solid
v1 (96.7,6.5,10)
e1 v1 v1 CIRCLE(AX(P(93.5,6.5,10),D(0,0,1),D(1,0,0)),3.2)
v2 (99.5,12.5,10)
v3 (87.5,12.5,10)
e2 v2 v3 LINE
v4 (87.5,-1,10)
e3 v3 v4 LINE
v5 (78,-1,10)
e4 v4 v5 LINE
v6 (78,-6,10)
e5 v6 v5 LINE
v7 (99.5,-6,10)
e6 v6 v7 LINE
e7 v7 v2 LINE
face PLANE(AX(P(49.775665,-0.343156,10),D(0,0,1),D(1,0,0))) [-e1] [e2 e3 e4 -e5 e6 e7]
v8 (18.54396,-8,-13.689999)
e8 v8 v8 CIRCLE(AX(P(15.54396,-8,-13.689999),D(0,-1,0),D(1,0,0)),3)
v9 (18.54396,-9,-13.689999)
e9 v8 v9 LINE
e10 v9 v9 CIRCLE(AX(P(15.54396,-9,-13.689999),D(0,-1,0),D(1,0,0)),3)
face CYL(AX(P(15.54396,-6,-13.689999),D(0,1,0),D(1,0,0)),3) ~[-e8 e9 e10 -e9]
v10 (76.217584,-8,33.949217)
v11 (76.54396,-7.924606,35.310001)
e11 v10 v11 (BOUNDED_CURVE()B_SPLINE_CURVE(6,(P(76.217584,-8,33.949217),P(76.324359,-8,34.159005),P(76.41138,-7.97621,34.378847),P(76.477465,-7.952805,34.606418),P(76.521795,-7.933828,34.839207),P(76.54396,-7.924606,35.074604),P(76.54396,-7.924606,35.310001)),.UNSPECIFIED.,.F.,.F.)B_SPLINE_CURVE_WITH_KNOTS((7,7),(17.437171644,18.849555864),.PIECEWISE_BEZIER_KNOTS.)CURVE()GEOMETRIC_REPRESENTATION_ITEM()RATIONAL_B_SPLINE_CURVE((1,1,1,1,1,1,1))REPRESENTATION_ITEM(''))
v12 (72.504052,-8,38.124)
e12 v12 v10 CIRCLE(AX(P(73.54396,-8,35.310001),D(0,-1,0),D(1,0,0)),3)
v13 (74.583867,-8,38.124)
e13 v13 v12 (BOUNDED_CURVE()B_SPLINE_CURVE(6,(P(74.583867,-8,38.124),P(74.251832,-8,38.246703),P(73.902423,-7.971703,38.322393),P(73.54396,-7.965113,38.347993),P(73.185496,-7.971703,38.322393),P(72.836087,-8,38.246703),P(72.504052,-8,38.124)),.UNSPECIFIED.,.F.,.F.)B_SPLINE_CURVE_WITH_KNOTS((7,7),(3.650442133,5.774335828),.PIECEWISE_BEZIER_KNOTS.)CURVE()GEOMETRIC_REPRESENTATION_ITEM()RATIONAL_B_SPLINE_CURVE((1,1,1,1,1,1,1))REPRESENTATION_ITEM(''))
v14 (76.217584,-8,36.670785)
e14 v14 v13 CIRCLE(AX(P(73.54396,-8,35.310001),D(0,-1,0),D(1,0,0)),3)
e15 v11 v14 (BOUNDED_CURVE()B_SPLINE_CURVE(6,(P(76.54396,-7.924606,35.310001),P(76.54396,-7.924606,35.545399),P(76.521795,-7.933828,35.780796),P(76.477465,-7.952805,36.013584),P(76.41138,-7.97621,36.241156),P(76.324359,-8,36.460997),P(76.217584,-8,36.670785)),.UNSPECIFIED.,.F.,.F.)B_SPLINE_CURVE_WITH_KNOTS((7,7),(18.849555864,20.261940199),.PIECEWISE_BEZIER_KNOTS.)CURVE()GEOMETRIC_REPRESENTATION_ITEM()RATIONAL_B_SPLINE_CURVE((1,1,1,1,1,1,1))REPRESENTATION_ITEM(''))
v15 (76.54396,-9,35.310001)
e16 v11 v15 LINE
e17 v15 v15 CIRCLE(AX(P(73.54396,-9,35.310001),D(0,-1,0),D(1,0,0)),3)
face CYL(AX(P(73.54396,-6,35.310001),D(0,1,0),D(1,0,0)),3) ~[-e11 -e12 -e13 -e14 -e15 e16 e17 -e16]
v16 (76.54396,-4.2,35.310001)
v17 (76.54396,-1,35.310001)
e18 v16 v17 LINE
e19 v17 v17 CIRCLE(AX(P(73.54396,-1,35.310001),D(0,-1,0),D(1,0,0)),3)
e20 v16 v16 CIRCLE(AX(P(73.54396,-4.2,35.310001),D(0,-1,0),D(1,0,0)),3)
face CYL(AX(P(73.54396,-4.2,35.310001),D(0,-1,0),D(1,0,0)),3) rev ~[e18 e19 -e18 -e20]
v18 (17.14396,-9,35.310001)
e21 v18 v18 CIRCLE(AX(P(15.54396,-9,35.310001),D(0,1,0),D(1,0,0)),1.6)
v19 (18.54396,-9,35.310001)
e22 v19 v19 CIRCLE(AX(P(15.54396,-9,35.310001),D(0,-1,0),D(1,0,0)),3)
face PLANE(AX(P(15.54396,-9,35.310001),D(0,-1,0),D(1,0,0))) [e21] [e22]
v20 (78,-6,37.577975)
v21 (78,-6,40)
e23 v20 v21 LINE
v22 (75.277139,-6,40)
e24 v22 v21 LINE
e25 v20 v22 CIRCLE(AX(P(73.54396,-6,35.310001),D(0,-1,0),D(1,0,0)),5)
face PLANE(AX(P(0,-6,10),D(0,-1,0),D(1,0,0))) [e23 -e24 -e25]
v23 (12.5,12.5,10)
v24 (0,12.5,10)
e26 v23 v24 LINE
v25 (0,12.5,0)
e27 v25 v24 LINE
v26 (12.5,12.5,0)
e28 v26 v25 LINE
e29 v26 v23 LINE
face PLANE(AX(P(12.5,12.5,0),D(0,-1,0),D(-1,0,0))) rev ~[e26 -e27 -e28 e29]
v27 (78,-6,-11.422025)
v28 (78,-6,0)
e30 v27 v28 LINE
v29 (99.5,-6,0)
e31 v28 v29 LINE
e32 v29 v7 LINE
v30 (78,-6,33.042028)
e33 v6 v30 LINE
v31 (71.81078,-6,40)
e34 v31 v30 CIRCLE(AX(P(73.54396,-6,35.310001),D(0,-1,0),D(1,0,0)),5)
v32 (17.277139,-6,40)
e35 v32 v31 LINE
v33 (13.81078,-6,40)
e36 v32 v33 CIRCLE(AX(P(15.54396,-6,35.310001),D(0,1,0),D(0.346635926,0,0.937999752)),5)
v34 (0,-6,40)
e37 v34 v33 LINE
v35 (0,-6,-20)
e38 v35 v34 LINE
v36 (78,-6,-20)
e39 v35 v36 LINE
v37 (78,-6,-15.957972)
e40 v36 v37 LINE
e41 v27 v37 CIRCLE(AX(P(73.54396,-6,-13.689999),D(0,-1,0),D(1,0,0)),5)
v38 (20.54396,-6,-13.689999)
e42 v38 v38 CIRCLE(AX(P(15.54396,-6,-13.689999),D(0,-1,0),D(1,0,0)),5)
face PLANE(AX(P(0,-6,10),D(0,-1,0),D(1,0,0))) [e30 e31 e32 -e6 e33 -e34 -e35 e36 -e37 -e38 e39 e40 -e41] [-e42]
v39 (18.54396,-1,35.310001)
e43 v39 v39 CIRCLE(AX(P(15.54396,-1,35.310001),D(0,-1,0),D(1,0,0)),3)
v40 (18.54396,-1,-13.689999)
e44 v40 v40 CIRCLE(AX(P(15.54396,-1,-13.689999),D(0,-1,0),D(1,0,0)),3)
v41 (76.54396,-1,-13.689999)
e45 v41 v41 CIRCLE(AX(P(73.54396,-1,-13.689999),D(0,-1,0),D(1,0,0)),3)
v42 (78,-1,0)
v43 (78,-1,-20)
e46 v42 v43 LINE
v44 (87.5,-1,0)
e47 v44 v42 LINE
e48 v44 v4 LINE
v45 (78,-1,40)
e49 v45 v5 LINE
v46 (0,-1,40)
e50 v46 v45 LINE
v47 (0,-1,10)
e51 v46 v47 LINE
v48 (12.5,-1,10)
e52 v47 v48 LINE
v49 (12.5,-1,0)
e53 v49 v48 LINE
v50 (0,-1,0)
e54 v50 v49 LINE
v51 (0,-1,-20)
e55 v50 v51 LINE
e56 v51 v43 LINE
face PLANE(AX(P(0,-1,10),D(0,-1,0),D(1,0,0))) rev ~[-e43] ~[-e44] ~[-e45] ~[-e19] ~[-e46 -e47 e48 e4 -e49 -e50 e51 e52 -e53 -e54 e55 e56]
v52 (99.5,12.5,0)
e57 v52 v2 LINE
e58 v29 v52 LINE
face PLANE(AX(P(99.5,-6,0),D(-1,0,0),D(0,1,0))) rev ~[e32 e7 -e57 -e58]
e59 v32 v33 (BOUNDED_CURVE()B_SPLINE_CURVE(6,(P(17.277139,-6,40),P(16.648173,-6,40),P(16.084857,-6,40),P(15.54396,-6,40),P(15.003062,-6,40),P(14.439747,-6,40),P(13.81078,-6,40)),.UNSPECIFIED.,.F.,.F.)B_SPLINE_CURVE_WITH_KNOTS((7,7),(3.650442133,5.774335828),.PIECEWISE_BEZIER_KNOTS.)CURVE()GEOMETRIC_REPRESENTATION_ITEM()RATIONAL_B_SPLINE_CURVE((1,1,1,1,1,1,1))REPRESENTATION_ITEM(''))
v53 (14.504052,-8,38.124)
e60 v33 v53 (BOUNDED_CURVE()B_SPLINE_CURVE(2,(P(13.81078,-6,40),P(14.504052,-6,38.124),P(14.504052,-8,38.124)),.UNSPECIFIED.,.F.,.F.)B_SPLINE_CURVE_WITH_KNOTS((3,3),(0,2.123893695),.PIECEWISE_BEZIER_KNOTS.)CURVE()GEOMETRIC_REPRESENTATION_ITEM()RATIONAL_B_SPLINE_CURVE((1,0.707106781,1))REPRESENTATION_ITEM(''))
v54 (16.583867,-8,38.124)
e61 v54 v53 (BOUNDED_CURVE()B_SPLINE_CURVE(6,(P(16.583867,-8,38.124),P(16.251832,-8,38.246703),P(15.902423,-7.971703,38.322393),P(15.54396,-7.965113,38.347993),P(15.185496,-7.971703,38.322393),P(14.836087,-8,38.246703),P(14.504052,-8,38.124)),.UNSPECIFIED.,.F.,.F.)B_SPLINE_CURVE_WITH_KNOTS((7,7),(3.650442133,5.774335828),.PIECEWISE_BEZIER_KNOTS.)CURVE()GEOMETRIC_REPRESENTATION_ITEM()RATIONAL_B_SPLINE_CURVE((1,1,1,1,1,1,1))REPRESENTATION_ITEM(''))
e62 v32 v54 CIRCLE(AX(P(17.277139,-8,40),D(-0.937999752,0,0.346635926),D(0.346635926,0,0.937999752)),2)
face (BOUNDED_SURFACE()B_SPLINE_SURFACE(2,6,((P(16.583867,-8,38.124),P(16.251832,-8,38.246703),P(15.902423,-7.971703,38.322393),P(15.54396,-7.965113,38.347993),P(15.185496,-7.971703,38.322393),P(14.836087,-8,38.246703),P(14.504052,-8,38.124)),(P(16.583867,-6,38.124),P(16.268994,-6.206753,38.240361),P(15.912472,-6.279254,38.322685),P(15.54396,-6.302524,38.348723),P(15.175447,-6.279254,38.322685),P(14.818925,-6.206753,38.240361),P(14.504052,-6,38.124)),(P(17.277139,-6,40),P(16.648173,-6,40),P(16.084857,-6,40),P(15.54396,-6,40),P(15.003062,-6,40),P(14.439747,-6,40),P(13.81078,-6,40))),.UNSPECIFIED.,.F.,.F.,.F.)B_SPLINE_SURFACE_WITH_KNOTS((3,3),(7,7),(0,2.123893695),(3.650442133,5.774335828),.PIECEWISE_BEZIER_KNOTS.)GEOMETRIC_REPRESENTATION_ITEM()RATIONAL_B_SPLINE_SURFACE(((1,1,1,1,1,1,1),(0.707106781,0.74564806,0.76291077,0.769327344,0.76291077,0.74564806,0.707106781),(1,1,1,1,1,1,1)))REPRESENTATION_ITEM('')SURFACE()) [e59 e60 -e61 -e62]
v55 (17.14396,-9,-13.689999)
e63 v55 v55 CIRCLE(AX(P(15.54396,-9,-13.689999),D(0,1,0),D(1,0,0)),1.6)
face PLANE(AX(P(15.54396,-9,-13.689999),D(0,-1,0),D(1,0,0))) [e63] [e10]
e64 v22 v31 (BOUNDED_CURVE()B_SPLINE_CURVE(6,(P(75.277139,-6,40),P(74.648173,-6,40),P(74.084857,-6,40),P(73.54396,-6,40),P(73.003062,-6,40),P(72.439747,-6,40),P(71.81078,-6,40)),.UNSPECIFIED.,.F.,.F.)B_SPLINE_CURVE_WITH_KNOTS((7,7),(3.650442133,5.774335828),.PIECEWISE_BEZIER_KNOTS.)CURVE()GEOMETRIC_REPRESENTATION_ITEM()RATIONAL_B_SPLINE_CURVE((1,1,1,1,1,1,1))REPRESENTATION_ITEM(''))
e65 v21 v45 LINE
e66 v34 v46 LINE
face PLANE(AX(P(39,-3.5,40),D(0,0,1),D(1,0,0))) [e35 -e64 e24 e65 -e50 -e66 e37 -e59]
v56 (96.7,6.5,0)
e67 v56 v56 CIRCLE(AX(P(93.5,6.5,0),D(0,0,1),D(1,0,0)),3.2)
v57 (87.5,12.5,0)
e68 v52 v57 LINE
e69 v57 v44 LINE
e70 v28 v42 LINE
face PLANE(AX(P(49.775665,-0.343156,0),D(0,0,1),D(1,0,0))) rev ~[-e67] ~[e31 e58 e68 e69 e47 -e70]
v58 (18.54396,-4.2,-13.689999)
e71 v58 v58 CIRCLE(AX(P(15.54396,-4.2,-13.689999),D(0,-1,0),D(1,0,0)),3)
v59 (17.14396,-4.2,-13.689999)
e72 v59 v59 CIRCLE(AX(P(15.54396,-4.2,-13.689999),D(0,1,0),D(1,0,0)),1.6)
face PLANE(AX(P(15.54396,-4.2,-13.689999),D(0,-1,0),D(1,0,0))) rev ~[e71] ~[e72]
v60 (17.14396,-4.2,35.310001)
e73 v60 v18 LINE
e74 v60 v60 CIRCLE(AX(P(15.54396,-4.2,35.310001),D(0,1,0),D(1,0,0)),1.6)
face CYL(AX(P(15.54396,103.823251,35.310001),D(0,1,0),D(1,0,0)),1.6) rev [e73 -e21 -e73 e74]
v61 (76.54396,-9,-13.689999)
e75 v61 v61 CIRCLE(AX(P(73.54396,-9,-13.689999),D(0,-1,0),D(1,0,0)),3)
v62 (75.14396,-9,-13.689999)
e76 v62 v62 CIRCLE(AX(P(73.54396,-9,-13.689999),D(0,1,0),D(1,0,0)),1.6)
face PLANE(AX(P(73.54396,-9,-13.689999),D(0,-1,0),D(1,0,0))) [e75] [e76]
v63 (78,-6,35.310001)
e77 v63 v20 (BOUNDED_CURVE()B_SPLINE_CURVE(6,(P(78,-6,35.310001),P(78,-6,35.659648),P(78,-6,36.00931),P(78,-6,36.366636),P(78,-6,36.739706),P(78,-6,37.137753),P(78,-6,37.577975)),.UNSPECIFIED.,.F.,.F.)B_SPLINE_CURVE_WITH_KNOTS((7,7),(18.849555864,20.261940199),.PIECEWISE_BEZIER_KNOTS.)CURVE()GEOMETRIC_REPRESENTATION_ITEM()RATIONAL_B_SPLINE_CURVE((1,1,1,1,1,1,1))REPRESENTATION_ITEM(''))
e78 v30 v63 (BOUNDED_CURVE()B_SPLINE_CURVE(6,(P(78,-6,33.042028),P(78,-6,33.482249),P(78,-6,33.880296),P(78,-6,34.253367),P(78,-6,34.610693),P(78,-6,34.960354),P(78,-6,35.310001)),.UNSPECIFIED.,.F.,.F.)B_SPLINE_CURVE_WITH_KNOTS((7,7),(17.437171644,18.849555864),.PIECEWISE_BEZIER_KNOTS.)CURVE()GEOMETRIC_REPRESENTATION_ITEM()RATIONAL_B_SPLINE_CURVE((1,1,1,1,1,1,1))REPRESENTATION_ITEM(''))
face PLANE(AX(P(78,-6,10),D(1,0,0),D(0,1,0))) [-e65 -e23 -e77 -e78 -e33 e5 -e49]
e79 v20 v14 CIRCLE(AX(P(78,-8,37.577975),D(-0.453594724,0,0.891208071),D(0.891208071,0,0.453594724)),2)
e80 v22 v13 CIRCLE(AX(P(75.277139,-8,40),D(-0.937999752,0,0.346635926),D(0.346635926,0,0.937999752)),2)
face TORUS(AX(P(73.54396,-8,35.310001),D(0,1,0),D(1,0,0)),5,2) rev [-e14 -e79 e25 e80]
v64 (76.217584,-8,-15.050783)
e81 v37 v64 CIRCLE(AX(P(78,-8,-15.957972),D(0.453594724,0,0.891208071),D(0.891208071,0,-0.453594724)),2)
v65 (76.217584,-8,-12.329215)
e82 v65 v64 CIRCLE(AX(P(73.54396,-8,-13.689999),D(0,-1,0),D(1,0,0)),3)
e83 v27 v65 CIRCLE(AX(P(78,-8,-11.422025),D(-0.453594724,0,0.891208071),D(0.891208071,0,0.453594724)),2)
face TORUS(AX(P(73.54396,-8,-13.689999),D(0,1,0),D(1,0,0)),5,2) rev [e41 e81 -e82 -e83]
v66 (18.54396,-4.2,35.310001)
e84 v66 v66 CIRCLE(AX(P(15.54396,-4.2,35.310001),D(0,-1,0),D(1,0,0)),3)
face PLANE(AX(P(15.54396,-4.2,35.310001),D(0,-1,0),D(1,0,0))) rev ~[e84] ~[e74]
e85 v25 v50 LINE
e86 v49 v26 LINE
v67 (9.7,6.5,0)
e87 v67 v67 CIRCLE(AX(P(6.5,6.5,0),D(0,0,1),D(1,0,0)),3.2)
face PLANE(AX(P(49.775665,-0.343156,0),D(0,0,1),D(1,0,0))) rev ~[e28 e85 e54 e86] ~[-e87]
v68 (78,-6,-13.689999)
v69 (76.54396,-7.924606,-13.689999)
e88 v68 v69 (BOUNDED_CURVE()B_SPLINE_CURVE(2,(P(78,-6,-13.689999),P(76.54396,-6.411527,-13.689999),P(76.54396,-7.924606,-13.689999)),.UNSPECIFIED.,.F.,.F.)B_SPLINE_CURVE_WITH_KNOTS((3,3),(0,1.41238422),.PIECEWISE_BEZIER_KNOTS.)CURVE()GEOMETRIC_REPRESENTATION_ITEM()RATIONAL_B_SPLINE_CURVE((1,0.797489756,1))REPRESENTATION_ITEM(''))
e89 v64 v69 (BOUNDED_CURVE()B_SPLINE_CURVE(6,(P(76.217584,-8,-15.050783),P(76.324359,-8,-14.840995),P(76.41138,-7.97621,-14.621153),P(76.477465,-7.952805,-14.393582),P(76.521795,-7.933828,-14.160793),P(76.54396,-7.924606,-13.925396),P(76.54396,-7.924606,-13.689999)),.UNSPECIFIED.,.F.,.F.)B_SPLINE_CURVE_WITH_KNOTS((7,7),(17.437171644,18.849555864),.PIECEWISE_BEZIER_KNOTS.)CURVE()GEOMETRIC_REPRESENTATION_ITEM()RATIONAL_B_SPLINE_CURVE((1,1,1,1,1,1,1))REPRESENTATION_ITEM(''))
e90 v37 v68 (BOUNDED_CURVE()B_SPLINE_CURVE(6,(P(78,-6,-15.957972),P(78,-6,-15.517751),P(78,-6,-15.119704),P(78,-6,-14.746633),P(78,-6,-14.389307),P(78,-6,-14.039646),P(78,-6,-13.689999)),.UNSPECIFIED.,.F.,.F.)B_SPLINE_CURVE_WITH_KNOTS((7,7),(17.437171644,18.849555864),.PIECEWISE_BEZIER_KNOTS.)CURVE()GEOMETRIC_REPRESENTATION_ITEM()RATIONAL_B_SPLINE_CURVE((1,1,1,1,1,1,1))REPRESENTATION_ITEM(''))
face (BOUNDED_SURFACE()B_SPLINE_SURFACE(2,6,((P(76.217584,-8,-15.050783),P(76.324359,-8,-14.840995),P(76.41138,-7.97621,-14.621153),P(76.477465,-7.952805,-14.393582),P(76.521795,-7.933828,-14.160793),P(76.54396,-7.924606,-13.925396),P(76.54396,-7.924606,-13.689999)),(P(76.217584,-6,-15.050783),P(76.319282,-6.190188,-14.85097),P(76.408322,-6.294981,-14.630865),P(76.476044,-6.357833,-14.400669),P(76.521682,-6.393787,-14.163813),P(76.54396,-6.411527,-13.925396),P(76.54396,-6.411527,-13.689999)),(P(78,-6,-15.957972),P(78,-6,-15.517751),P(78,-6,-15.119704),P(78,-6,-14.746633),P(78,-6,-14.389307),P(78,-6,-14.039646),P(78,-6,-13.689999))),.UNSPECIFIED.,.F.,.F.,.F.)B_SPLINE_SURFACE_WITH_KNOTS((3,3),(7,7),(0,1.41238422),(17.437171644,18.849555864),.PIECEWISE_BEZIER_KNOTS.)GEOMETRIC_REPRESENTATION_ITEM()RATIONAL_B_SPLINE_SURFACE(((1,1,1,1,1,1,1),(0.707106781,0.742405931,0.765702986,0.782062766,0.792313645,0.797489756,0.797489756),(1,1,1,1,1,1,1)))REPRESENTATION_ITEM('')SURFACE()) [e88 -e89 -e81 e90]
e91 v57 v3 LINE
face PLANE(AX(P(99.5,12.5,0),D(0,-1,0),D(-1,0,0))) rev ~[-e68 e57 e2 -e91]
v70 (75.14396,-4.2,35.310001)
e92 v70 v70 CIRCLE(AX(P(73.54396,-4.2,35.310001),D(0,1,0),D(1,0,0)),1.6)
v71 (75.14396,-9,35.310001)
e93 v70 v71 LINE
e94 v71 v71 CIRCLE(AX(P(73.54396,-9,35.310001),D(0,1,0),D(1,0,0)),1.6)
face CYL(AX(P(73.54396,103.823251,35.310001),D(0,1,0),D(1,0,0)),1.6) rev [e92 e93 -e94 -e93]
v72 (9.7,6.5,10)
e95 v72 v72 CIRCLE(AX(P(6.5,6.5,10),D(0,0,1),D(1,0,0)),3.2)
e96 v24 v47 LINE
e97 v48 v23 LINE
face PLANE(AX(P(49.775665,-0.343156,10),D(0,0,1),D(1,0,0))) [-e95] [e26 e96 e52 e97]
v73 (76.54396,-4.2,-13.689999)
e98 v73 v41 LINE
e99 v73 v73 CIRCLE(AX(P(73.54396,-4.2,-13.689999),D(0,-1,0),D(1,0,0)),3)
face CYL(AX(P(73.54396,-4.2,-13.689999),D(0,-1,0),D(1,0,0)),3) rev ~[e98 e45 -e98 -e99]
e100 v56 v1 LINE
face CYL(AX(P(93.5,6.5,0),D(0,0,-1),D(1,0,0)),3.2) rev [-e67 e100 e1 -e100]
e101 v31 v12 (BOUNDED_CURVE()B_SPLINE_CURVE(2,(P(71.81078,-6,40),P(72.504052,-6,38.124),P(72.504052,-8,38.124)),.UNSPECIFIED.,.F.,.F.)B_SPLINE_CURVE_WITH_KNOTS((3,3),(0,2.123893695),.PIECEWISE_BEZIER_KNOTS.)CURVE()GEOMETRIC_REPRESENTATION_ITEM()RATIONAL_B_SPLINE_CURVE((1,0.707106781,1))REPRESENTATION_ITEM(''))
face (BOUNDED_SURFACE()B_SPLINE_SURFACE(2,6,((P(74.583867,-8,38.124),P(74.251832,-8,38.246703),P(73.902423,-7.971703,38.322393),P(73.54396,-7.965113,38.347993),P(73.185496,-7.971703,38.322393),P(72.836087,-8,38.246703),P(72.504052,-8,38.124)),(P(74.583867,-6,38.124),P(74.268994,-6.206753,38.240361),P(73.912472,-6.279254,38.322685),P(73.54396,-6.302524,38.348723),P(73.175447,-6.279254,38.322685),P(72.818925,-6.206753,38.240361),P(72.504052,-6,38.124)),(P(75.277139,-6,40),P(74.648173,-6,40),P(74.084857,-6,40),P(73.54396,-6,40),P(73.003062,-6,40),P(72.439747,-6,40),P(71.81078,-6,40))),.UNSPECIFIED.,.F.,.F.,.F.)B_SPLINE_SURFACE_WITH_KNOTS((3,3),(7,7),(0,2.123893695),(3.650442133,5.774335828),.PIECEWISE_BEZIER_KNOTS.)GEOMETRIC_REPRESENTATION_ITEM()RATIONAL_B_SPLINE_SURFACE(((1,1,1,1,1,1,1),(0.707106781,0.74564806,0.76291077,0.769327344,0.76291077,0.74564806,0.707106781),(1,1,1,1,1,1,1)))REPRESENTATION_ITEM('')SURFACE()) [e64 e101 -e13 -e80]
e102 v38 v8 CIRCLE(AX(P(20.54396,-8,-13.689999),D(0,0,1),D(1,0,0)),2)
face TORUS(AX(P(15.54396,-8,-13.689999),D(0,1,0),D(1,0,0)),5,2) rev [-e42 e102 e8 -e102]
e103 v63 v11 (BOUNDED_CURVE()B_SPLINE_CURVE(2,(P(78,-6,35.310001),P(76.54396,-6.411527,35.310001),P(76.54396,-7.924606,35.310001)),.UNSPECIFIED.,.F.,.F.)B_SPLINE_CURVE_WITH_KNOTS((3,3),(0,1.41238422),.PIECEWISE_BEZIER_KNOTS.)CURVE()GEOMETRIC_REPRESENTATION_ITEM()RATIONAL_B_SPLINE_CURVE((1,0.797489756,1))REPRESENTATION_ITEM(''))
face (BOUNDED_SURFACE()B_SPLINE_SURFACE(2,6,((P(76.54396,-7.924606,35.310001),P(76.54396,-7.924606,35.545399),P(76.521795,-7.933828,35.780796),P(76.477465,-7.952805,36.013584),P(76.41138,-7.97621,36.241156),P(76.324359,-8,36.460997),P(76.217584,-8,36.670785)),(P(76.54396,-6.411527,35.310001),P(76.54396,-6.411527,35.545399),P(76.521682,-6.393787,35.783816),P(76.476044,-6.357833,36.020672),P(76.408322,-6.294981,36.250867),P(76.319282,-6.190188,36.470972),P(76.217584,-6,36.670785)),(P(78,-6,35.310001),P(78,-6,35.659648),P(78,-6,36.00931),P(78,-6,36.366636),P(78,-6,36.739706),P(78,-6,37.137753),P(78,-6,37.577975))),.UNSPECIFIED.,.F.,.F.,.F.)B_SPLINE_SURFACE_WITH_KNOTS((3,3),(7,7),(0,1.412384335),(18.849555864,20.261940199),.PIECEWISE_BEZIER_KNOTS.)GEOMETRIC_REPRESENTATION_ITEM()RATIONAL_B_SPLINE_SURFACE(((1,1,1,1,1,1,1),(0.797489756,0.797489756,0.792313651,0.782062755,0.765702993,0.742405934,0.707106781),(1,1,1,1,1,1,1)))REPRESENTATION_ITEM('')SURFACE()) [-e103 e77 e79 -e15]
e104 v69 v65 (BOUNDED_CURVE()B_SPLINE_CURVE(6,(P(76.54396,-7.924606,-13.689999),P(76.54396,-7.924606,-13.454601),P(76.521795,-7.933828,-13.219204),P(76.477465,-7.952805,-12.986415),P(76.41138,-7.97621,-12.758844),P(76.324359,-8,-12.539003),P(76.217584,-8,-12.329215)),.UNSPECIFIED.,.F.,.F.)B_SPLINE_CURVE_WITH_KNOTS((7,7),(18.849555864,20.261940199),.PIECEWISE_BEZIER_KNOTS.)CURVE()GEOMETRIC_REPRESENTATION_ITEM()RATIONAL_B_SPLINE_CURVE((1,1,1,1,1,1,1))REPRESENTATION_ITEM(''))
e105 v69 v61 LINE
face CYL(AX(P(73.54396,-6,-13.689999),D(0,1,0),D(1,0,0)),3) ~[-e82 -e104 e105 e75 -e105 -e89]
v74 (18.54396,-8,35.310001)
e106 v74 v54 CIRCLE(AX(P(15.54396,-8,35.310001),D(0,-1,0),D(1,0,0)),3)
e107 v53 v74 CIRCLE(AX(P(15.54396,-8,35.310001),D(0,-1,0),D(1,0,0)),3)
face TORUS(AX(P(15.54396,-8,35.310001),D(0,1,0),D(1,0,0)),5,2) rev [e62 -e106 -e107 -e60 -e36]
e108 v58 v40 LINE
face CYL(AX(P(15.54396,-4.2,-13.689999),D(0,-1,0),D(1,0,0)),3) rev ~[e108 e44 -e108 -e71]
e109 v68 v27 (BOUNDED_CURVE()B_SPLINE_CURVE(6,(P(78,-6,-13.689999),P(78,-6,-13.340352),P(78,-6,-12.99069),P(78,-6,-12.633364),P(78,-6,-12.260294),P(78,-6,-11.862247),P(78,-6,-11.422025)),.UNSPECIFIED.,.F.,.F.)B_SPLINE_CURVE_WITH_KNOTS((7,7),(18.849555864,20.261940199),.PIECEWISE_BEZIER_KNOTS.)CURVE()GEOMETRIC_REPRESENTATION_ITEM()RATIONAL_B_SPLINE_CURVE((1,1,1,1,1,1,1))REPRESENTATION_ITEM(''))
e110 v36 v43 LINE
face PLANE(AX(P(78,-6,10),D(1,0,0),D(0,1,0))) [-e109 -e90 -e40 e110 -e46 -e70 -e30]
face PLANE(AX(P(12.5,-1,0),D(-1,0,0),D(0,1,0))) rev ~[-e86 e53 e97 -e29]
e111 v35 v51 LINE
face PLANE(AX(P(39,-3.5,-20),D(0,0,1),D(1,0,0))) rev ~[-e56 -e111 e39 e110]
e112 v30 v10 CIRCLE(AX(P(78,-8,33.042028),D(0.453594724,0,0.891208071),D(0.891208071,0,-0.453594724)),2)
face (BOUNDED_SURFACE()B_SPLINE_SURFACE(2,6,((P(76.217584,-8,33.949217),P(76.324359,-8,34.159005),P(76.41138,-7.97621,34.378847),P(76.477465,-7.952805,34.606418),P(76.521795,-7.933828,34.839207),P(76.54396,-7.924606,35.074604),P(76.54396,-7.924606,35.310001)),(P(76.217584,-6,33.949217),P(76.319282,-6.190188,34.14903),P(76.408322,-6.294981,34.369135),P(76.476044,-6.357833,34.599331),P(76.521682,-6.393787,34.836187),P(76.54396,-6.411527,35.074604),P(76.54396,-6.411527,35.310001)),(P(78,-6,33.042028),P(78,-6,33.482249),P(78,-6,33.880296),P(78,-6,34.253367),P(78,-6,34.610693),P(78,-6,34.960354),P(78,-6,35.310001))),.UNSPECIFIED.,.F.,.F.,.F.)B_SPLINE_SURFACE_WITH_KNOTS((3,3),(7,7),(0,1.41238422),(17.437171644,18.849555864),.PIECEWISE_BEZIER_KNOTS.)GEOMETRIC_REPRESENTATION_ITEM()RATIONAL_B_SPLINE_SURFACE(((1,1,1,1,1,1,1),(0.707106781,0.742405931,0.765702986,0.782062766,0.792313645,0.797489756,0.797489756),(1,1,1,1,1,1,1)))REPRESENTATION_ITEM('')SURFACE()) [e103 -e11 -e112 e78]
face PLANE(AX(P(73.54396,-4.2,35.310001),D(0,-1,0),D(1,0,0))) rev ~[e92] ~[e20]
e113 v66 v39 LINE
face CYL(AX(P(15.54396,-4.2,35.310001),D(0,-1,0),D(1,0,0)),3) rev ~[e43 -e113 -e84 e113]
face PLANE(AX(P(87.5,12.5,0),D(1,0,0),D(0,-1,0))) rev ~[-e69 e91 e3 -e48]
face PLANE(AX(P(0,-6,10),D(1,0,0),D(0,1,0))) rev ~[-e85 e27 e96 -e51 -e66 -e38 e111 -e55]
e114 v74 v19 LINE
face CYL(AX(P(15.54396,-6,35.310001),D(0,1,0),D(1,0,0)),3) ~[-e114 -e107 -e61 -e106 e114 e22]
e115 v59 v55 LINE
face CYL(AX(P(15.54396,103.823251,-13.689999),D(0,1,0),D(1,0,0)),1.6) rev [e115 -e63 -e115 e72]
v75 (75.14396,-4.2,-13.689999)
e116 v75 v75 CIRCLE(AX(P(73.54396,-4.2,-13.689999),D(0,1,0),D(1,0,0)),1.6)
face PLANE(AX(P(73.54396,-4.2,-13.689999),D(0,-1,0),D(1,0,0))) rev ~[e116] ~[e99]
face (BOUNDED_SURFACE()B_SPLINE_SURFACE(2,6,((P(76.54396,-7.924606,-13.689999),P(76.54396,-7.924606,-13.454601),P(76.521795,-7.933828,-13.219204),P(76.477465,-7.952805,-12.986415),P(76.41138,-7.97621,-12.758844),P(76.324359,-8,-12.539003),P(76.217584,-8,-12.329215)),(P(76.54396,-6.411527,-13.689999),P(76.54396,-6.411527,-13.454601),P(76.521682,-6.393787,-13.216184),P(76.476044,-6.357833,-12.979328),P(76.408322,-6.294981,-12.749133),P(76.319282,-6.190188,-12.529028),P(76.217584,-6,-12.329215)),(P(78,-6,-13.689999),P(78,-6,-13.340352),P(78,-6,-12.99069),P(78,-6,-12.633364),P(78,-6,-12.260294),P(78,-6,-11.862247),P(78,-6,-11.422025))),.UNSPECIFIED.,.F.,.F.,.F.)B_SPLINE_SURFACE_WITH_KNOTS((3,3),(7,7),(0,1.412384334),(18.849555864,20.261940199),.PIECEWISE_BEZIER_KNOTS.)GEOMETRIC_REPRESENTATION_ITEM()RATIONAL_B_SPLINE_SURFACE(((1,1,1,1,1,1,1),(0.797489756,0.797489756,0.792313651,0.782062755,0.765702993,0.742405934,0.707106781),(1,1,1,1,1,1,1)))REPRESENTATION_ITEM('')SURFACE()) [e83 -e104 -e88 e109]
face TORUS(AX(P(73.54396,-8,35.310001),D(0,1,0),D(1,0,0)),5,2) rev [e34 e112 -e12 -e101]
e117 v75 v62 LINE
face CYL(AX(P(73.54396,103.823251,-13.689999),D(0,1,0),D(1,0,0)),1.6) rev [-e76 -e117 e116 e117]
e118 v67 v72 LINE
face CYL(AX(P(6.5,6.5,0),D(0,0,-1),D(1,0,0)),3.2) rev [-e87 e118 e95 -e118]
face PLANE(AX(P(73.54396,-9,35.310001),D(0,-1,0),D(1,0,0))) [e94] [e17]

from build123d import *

# Parameters (mm, degrees)
SKETCH1_R               = 3.2
BOSS_EXTRUDE1_DEPTH     = 10
SKETCH2_W               = 78
SKETCH2_H               = 5
BOSS_EXTRUDE2_DEPTH     = 30
SKETCH4_R               = 3
BOSS_EXTRUDE3_DEPTH     = 3
CUT_EXTRUDE1_REACH      = 112.623
CUT_EXTRUDE1_START      = -1.8
SKETCH4_2_R             = 3
CUT_EXTRUDE2_DEPTH      = 109.823251192
CUT_EXTRUDE2_DEPTH_BACK = 109.823251192
SKETCH3_R               = 1.6
FILLET1_R               = 2


with BuildPart() as part:
    # Sketch1 → Boss-Extrude1 (new body)
    with BuildSketch(Plane.XY):
        Polygon((99.5, 12.5), (87.5, 12.5), (87.5, -1), (12.5, -1), (12.5, 12.5), (0, 12.5), (0, -6), (99.5, -6), align=None)
        with Locations((93.5, 6.5)):
            Circle(SKETCH1_R, mode=Mode.SUBTRACT)
        with Locations((6.5, 6.5)):
            Circle(SKETCH1_R, mode=Mode.SUBTRACT)
    extrude(amount=BOSS_EXTRUDE1_DEPTH)

    # Sketch2 → Boss-Extrude2 (add, symmetric)
    with BuildSketch(Plane.XY.offset(10)):
        with Locations((39, -3.5)):
            Rectangle(SKETCH2_W, SKETCH2_H)
    extrude(amount=BOSS_EXTRUDE2_DEPTH, both=True)

    # Sketch4 → Boss-Extrude3 (add)
    with BuildSketch(Plane.XZ.offset(6)):
        with Locations((15.543959644, 35.31000124)):
            Circle(SKETCH4_R)
        with Locations((73.543959644, 35.31000124)):
            Circle(SKETCH4_R)
        with Locations((73.543959644, -13.68999876)):
            Circle(SKETCH4_R)
        with Locations((15.543959644, -13.68999876)):
            Circle(SKETCH4_R)
    extrude(amount=BOSS_EXTRUDE3_DEPTH)

    # Sketch4<2> → Cut-Extrude1 (cut, up to next)
    with BuildSketch(Plane.XZ.offset(6).offset(CUT_EXTRUDE1_START), mode=Mode.PRIVATE) as cut_extrude1_sk1:
        with Locations((15.543959644, 35.31000124)):
            Circle(SKETCH4_2_R)
    cut_extrude1_tool1 = extrude(cut_extrude1_sk1.sketch, amount=-CUT_EXTRUDE1_REACH, mode=Mode.PRIVATE) & part.part
    # Sketch4<2> → Cut-Extrude1 (cut, up to next)
    with BuildSketch(Plane.XZ.offset(6).offset(CUT_EXTRUDE1_START), mode=Mode.PRIVATE) as cut_extrude1_sk2:
        with Locations((73.543959644, 35.31000124)):
            Circle(SKETCH4_2_R)
    cut_extrude1_tool2 = extrude(cut_extrude1_sk2.sketch, amount=-CUT_EXTRUDE1_REACH, mode=Mode.PRIVATE) & part.part
    # Sketch4<2> → Cut-Extrude1 (cut, up to next)
    with BuildSketch(Plane.XZ.offset(6).offset(CUT_EXTRUDE1_START), mode=Mode.PRIVATE) as cut_extrude1_sk3:
        with Locations((73.543959644, -13.68999876)):
            Circle(SKETCH4_2_R)
    cut_extrude1_tool3 = extrude(cut_extrude1_sk3.sketch, amount=-CUT_EXTRUDE1_REACH, mode=Mode.PRIVATE) & part.part
    # Sketch4<2> → Cut-Extrude1 (cut, up to next)
    with BuildSketch(Plane.XZ.offset(6).offset(CUT_EXTRUDE1_START), mode=Mode.PRIVATE) as cut_extrude1_sk4:
        with Locations((15.543959644, -13.68999876)):
            Circle(SKETCH4_2_R)
    cut_extrude1_tool4 = extrude(cut_extrude1_sk4.sketch, amount=-CUT_EXTRUDE1_REACH, mode=Mode.PRIVATE) & part.part
    add(cut_extrude1_tool1.solids().sort_by_distance((15.54396, -4.2, 35.310001))[0], mode=Mode.SUBTRACT)
    add(cut_extrude1_tool2.solids().sort_by_distance((73.54396, -4.2, 35.310001))[0], mode=Mode.SUBTRACT)
    add(cut_extrude1_tool3.solids().sort_by_distance((73.54396, -4.2, -13.689999))[0], mode=Mode.SUBTRACT)
    add(cut_extrude1_tool4.solids().sort_by_distance((15.54396, -4.2, -13.689999))[0], mode=Mode.SUBTRACT)

    # Sketch3 → Cut-Extrude2 (cut, two sides: drawn at the far end of the back side and taken through both)
    with BuildSketch(Plane.XZ.offset(6).offset(-CUT_EXTRUDE2_DEPTH_BACK)):
        with Locations((15.543959644, 35.31000124)):
            Circle(SKETCH3_R)
        with Locations((73.543959644, 35.31000124)):
            Circle(SKETCH3_R)
        with Locations((15.543959644, -13.68999876)):
            Circle(SKETCH3_R)
        with Locations((73.543959644, -13.68999876)):
            Circle(SKETCH3_R)
    extrude(amount=CUT_EXTRUDE2_DEPTH + CUT_EXTRUDE2_DEPTH_BACK, mode=Mode.SUBTRACT)

    # Fillet1
    fillet1_edges = [part.edges().sort_by_distance(p)[0] for p in [
        (70.543959644, -6, -13.68999876),
        (12.543959644, -6, -13.68999876),
        (70.543959644, -6, 35.31000124),
        (12.543959644, -6, 35.31000124),
    ]]
    fillet(fillet1_edges, radius=FILLET1_R)


solid = part.part
